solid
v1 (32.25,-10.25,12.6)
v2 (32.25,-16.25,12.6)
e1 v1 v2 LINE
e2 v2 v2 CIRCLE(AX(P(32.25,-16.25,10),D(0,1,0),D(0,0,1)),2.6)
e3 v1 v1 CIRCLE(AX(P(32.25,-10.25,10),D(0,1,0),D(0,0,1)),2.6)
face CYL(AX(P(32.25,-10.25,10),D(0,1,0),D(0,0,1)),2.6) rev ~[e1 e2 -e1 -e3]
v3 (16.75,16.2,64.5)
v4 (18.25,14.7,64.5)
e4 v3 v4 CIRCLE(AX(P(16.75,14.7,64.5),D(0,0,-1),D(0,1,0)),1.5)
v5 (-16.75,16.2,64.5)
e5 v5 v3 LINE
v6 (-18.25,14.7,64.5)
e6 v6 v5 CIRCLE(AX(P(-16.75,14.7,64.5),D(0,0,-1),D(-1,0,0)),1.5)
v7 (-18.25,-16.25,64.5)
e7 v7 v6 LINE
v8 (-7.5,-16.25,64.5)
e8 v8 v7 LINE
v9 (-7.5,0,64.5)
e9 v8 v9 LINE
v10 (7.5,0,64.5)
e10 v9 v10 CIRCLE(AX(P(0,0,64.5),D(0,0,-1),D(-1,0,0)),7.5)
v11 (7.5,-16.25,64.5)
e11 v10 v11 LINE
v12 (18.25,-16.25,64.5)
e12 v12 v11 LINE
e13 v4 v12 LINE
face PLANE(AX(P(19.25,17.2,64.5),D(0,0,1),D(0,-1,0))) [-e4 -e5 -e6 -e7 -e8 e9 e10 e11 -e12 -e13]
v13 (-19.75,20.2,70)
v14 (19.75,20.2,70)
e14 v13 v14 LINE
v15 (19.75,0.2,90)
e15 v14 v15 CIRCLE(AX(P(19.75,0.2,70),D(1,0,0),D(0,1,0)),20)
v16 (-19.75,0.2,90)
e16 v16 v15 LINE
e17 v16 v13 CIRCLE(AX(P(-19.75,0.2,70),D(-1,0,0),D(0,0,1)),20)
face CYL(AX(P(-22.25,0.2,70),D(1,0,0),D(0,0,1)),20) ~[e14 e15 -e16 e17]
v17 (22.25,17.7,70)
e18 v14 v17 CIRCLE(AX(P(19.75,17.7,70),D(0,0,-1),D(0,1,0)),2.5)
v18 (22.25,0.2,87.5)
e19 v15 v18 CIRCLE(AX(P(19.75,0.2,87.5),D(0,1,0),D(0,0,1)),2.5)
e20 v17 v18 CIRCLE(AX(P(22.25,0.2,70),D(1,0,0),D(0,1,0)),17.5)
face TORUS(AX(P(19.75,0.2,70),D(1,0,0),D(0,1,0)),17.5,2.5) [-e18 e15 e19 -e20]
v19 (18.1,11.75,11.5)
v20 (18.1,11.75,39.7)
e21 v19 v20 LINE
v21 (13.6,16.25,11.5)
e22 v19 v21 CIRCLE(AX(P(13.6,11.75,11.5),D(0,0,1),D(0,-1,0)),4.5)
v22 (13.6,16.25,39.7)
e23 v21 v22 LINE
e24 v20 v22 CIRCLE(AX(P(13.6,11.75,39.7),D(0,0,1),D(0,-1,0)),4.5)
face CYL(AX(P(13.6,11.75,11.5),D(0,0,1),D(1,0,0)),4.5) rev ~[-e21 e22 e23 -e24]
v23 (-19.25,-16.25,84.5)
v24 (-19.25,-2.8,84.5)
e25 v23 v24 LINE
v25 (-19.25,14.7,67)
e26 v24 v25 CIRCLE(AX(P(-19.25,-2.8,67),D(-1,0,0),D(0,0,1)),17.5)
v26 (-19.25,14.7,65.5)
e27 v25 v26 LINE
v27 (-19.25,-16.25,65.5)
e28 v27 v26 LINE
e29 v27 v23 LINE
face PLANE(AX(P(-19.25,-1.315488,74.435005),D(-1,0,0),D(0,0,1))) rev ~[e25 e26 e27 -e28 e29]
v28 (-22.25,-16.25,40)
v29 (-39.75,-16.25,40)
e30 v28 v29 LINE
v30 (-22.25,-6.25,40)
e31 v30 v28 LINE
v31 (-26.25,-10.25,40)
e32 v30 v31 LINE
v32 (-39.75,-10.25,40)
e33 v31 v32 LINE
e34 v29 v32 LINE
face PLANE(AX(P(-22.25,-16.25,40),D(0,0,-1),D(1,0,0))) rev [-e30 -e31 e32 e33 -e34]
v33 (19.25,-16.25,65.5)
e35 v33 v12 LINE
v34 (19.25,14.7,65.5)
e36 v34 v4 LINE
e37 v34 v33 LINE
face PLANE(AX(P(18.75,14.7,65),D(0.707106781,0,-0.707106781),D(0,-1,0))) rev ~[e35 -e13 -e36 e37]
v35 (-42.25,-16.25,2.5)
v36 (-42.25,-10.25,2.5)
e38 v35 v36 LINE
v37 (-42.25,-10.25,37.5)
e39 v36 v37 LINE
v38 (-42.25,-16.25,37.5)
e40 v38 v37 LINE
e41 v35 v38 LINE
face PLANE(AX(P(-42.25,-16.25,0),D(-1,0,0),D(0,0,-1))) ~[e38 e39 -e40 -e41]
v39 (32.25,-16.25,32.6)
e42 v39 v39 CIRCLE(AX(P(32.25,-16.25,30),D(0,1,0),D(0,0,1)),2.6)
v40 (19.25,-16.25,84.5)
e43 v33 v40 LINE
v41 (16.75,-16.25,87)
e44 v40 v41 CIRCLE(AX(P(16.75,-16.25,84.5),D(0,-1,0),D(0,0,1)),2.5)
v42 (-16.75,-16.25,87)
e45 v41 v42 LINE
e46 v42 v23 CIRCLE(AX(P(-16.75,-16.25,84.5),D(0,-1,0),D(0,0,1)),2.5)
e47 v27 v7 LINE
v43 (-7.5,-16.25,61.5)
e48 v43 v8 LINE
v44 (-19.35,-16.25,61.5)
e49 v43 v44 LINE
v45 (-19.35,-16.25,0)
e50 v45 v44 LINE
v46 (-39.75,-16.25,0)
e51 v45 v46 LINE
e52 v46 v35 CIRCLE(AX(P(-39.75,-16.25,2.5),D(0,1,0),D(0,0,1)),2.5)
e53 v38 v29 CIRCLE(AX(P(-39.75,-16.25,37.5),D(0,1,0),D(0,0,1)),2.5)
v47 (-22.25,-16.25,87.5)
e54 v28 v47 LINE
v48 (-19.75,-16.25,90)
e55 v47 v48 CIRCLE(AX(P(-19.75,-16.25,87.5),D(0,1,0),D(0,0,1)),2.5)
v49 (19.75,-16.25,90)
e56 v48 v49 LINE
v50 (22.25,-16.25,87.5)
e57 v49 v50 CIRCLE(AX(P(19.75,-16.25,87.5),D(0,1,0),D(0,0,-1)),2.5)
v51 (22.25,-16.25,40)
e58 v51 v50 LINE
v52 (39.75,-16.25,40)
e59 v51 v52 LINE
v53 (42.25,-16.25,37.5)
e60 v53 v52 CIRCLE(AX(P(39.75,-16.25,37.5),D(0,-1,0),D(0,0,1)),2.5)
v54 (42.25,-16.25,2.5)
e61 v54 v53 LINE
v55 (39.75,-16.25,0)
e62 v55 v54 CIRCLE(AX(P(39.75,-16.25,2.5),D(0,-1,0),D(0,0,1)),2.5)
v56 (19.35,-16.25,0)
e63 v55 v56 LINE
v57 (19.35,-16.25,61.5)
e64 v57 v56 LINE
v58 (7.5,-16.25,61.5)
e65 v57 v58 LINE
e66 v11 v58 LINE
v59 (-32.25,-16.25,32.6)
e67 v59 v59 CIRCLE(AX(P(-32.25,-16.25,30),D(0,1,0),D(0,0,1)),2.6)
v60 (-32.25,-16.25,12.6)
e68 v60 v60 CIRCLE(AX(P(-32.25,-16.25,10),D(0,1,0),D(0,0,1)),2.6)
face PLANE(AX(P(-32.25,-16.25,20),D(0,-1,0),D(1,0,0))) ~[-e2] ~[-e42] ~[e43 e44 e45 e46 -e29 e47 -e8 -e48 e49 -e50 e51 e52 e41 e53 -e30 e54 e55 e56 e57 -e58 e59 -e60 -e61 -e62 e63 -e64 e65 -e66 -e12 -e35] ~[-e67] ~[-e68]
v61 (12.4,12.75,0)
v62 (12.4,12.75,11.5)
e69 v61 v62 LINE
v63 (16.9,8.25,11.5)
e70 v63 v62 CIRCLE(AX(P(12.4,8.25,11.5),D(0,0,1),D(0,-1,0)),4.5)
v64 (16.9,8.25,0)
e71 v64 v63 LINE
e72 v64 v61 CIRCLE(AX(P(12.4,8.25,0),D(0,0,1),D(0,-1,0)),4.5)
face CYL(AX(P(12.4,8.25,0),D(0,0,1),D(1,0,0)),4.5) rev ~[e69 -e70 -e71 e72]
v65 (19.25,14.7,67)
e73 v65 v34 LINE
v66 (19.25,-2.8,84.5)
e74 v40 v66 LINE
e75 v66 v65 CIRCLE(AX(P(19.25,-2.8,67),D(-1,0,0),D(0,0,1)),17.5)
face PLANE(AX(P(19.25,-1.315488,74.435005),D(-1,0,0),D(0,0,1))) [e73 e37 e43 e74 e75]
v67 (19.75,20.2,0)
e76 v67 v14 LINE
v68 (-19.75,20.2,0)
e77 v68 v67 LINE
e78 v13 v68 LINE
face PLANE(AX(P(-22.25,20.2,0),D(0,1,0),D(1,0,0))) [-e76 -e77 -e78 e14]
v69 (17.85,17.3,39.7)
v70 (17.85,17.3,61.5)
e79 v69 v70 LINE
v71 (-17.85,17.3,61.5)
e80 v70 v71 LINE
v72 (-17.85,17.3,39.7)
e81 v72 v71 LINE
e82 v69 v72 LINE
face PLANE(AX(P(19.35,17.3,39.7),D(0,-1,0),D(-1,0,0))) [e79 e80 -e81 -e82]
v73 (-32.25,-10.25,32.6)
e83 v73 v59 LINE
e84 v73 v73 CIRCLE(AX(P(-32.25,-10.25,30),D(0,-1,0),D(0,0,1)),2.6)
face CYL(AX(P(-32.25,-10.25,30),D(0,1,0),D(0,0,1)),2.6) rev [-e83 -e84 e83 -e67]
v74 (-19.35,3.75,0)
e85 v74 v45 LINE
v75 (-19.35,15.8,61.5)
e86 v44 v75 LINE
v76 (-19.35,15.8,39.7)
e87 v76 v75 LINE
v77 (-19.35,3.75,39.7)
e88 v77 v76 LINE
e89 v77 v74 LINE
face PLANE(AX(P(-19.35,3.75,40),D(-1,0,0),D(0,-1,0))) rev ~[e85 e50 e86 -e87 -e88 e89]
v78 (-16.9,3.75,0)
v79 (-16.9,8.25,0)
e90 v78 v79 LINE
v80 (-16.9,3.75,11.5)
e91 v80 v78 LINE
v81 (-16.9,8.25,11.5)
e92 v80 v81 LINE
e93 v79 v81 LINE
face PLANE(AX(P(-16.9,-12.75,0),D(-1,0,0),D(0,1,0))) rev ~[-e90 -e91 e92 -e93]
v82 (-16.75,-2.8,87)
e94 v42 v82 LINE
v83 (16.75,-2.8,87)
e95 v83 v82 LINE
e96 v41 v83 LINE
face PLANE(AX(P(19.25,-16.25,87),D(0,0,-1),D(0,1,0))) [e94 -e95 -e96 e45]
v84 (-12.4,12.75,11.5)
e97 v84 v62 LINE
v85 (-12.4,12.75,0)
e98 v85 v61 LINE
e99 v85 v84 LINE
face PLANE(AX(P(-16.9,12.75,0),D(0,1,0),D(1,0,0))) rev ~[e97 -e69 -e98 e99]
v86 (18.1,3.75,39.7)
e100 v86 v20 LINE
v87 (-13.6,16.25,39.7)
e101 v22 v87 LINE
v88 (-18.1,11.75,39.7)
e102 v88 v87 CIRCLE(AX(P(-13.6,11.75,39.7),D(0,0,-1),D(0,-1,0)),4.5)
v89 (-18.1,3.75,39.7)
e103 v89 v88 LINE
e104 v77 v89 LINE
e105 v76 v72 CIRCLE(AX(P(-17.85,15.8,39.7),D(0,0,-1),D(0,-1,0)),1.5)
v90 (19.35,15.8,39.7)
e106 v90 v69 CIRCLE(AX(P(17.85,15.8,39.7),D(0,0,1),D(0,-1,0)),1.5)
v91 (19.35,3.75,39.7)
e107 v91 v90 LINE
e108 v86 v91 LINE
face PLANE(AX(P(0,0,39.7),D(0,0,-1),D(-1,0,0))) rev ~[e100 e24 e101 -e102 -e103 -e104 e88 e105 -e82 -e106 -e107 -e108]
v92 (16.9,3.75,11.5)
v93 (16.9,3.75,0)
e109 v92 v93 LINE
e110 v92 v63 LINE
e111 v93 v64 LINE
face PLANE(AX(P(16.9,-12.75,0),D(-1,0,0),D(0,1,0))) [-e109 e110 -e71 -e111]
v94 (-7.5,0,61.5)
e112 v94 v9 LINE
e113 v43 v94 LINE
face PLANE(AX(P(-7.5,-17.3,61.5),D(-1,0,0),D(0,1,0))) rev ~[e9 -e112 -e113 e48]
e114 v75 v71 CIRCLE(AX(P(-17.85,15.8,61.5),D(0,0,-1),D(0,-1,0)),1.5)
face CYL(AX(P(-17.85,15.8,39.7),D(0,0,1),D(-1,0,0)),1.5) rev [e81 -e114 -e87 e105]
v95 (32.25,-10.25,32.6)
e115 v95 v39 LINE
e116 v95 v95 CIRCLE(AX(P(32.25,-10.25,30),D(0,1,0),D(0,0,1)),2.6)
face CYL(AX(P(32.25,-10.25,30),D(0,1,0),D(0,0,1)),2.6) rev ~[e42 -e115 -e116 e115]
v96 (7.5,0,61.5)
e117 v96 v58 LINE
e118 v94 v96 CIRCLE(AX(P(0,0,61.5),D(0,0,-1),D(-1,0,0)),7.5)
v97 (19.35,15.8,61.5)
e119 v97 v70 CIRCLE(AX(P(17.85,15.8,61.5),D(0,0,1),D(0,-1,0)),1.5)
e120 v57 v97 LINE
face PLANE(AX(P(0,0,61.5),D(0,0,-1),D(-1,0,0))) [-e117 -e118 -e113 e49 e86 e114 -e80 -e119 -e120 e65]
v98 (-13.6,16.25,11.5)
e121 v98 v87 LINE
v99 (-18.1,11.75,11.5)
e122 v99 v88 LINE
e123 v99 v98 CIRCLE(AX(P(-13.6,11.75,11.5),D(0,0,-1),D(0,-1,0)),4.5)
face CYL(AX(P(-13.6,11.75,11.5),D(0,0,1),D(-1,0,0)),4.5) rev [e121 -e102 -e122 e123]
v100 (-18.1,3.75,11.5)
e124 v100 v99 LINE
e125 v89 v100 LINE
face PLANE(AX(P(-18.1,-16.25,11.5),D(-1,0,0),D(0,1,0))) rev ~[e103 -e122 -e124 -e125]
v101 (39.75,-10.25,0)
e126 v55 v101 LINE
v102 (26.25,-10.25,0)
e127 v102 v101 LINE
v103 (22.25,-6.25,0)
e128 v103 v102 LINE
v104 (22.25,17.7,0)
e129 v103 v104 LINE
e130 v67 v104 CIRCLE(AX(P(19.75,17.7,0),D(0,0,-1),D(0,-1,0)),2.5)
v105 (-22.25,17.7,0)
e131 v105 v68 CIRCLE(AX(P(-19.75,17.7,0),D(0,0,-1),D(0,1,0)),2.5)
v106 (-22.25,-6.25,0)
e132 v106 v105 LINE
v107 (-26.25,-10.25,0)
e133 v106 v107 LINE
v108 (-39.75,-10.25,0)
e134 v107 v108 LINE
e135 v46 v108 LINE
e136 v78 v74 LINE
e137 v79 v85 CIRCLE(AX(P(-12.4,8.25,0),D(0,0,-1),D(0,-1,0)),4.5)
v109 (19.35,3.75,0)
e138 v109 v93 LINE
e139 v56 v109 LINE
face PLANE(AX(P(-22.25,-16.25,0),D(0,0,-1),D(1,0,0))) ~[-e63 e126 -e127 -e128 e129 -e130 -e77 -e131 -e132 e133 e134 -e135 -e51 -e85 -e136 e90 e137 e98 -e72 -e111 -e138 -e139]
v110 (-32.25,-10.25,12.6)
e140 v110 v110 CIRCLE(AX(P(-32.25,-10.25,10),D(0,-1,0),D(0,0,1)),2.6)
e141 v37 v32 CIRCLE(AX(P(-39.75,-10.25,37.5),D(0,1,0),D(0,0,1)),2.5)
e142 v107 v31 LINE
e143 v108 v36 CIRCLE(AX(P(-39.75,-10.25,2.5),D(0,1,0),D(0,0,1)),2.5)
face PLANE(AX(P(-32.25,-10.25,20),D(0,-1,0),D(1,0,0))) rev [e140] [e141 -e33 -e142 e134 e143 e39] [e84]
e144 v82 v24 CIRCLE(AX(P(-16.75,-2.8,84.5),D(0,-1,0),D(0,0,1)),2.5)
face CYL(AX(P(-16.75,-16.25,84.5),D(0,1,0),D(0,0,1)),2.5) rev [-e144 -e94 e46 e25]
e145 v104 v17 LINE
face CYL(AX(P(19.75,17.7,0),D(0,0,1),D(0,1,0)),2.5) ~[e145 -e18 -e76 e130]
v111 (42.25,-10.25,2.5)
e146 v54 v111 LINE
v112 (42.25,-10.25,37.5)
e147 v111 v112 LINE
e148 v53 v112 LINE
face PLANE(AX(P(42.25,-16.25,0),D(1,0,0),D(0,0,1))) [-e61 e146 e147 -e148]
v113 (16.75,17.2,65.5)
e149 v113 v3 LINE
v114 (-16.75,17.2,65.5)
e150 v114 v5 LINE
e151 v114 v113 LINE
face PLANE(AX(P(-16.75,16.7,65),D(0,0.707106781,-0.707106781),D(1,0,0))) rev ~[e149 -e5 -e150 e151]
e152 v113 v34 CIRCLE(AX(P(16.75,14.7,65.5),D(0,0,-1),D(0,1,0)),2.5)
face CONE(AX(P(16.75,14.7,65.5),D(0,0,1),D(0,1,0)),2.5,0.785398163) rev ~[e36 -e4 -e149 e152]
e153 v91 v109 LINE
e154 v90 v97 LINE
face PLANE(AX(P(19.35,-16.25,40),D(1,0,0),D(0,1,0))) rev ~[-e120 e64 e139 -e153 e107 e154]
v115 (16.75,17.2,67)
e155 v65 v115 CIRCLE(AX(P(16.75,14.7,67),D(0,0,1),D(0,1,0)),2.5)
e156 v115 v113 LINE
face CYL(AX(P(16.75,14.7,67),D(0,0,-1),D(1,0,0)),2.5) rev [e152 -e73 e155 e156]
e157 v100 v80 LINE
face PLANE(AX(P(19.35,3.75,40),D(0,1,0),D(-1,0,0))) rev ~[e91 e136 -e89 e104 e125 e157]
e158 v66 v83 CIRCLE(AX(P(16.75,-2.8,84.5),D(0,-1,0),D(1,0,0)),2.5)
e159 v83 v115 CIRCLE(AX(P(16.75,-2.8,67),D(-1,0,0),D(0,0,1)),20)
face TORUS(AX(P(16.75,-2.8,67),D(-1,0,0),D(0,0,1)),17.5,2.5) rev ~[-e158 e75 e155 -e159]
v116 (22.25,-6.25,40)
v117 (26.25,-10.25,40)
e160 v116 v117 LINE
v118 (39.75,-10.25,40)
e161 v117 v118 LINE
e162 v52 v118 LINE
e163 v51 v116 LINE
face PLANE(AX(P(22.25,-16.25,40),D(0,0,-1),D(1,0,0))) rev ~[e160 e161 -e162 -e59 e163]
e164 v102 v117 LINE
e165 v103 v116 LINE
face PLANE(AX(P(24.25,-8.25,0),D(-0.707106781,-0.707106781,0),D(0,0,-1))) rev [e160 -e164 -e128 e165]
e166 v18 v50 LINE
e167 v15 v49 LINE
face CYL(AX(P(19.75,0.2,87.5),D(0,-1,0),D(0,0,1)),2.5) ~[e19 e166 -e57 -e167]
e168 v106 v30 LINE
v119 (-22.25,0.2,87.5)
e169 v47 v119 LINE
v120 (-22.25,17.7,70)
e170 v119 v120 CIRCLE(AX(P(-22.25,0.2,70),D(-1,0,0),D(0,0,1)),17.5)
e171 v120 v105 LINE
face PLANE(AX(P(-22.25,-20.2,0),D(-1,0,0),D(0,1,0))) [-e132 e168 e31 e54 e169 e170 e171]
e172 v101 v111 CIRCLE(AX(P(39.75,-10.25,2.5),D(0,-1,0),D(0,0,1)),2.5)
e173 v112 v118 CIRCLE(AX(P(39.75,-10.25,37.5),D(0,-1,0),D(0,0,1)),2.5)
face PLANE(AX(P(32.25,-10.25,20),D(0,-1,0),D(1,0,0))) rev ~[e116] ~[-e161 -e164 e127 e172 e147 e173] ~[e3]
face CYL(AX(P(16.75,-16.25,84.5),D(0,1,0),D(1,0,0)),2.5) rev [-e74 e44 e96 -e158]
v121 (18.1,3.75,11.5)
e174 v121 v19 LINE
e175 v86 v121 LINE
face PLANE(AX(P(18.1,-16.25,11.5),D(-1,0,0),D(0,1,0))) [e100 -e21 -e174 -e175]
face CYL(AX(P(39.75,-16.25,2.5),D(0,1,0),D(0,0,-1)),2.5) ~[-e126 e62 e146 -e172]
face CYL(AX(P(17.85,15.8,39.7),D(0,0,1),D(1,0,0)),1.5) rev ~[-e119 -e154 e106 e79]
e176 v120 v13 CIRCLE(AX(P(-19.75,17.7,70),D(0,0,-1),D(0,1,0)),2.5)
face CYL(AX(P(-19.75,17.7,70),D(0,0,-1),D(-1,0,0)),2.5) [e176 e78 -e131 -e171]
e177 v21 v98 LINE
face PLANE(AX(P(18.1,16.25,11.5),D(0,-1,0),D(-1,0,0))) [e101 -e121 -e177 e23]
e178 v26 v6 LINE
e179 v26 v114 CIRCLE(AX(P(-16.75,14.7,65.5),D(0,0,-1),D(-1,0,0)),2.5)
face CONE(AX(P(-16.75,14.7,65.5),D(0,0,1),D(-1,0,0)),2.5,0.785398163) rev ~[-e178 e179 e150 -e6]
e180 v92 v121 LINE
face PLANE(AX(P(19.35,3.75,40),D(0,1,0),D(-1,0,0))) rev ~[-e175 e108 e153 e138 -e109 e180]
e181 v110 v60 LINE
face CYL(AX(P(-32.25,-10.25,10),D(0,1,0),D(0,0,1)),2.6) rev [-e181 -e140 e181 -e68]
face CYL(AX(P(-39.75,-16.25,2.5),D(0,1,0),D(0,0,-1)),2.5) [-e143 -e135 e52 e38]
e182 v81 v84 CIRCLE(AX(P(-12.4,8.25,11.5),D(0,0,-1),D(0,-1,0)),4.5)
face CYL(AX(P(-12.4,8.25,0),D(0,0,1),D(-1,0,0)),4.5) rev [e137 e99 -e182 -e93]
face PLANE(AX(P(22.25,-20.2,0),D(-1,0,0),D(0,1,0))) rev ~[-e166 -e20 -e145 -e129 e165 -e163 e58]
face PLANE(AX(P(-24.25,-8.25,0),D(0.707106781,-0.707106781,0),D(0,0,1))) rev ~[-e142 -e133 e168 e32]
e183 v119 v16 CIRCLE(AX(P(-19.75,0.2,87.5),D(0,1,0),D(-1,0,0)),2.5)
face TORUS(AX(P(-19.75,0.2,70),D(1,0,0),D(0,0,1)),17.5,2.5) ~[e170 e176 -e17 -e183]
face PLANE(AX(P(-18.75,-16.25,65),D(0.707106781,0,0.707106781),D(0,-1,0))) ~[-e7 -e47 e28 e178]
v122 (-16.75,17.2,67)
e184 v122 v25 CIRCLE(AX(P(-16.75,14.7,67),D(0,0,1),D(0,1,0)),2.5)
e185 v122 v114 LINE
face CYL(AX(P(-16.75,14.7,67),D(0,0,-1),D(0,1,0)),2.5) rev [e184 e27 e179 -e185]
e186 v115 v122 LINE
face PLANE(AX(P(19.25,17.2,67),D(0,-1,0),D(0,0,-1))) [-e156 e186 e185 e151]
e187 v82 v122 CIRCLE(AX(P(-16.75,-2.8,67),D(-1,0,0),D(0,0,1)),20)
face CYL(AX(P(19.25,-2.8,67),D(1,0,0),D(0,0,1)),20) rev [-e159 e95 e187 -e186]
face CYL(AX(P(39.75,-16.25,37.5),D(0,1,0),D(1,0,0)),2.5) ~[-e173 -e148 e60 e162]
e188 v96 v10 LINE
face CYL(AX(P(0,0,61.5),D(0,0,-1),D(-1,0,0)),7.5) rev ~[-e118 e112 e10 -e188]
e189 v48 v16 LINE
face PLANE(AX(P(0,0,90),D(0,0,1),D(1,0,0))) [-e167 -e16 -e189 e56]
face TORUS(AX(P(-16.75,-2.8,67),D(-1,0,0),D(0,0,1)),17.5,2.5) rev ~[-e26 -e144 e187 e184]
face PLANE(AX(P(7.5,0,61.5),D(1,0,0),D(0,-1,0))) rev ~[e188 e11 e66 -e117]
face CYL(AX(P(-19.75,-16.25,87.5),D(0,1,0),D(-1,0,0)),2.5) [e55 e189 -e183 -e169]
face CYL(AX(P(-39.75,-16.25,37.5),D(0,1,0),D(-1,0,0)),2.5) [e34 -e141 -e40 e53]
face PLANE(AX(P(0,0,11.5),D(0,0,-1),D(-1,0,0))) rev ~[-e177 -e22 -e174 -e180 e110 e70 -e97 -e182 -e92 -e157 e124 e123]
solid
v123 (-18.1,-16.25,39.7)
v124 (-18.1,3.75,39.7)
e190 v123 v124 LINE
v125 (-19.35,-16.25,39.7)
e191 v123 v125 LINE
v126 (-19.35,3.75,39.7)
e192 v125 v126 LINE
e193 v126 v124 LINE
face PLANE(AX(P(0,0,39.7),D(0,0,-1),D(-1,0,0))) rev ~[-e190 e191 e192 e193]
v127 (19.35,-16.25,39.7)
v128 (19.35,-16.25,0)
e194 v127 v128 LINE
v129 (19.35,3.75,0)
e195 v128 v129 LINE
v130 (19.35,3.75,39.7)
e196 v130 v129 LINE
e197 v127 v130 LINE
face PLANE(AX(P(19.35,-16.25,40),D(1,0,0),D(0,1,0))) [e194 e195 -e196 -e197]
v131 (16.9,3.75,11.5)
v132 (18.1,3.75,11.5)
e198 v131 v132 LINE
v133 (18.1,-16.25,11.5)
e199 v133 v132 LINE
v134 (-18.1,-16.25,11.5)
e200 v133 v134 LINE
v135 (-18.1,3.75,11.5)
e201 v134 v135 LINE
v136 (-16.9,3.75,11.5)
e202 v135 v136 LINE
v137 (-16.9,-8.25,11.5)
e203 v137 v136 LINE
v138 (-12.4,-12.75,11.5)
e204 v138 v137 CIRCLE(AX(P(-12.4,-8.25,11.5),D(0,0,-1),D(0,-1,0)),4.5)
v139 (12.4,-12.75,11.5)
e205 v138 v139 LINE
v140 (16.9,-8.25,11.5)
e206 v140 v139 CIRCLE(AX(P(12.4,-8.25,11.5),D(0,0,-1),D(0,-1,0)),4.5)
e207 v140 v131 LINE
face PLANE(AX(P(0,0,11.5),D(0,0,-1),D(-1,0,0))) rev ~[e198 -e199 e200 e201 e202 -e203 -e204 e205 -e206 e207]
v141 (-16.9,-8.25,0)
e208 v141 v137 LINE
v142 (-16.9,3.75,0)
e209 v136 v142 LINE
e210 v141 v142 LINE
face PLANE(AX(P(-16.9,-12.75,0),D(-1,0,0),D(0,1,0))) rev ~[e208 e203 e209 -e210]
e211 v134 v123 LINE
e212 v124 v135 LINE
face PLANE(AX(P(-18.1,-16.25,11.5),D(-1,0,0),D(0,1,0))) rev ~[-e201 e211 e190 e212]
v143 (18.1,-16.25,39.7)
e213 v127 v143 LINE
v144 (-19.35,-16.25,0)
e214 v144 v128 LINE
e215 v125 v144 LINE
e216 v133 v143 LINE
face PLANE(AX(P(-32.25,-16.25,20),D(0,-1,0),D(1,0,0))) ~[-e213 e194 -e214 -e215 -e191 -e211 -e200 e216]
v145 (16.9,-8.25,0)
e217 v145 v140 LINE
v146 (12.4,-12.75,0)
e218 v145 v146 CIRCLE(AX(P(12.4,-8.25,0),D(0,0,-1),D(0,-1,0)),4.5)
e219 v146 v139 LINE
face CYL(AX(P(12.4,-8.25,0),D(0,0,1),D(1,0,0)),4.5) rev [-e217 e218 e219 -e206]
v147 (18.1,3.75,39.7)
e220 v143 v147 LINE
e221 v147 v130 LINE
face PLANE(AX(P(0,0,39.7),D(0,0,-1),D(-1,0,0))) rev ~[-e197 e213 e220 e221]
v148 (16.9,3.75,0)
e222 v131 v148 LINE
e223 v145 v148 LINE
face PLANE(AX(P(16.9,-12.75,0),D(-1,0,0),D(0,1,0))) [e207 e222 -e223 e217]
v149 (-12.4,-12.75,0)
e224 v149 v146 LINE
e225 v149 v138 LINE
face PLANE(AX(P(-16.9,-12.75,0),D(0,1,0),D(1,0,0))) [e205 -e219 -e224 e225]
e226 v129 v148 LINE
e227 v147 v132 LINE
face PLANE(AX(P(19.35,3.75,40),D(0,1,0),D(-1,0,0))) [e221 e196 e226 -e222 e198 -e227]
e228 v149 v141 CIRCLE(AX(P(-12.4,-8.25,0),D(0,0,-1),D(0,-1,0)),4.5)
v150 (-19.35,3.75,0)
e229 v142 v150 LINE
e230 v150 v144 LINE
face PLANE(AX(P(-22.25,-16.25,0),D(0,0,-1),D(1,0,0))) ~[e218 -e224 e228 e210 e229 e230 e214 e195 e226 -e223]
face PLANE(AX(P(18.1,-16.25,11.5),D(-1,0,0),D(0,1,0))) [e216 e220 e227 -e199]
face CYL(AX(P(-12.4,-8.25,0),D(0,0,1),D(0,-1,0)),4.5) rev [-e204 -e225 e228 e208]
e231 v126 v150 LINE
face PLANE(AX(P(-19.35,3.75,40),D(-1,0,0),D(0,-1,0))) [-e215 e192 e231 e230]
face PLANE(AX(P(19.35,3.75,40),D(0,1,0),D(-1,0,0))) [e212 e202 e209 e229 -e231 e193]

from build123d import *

# Parameters (mm, degrees)
SKETCH_2_W              = 44.5
SKETCH_2_H              = 40.4
EXTRUDE_1_DEPTH         = 90
SKETCH_1_W              = 33.8
SKETCH_1_H              = 25.5
CUT_EXTRUDE_1_DEPTH     = 11.5
SKETCH_3_W              = 36.2
SKETCH_3_H              = 32.5
CUT_EXTRUDE_2_DEPTH     = 28.2
SKETCH_4_W              = 38.7
SKETCH_4_H              = 34.6
CUT_EXTRUDE_3_DEPTH     = 21.8
CUT_EXTRUDE_4_DEPTH     = 3
SKETCH_7_W              = 44.5
SKETCH_7_H              = 90
CUT_EXTRUDE_6_DEPTH     = 3.95
CUT_EXTRUDE_START       = -3
CUT_EXTRUDE_5_DEPTH     = 38.5
SKETCH_8_W              = 20
SKETCH_8_H              = 40
EXTRUDE_2_DEPTH         = 6
SKETCH_9_R              = 2.6
CUT_EXTRUDE_7_DEPTH     = 104.982041719
FILLET_1_R              = 2.5
FILLET_2_R              = 4.5
FILLET_3_R              = 1.5
FILLET_4_R              = 20
FILLET_5_R              = 2.5
CHAMFER_1_SIZE          = 1
CHAMFER_2_SIZE          = 4
SHEET_EXTRUDE_1_1_BACK  = 40
SHEET_EXTRUDE_1_1_DEPTH = 40
SHEET_EXTRUDE_1_2_BACK  = 40
SHEET_EXTRUDE_1_2_DEPTH = 40


with BuildPart() as part:
    # Эскиз2 → Бобышка-Вытянуть1 (new body)
    with BuildSketch(Plane.XY):
        Rectangle(SKETCH_2_W, SKETCH_2_H)
    extrude(amount=EXTRUDE_1_DEPTH)

    # Эскиз1 → Вырез-Вытянуть1 (cut)
    with BuildSketch(Plane.XY):
        Rectangle(SKETCH_1_W, SKETCH_1_H)
    extrude(amount=CUT_EXTRUDE_1_DEPTH, mode=Mode.SUBTRACT)

    # Эскиз3 → Вырез-Вытянуть2 (cut)
    with BuildSketch(Plane(origin=(0, 0, 11.5), x_dir=(-1, 0, 0), z_dir=(0, 0, -1))):
        Rectangle(SKETCH_3_W, SKETCH_3_H)
    extrude(amount=-CUT_EXTRUDE_2_DEPTH, mode=Mode.SUBTRACT)

    # Эскиз4 → Вырез-Вытянуть3 (cut)
    with BuildSketch(Plane(origin=(0, 0, 39.7), x_dir=(-1, 0, 0), z_dir=(0, 0, -1))):
        Rectangle(SKETCH_4_W, SKETCH_4_H)
    extrude(amount=-CUT_EXTRUDE_3_DEPTH, mode=Mode.SUBTRACT)

    # Эскиз5 → Вырез-Вытянуть4 (cut)
    with BuildSketch(Plane(origin=(0, 0, 61.5), x_dir=(-1, 0, 0), z_dir=(0, 0, -1))):
        with BuildLine():
            Line((-7.5, 0), (-7.5, -17.3))
            Line((-7.5, -17.3), (7.5, -17.3))
            Line((7.5, -17.3), (7.5, 0))
            ThreePointArc((7.5, 0), (0, 7.5), (-7.5, 0))
        make_face()
    extrude(amount=-CUT_EXTRUDE_4_DEPTH, mode=Mode.SUBTRACT)

    # Эскиз7 → Вырез-Вытянуть6 (cut)
    with BuildSketch(Plane.XZ.offset(20.2)):
        with Locations((0, 45)):
            Rectangle(SKETCH_7_W, SKETCH_7_H)
    extrude(amount=-CUT_EXTRUDE_6_DEPTH, mode=Mode.SUBTRACT)

    # Эскиз6 → Вырез-Вытянуть5 (cut)
    with BuildSketch(Plane(origin=(22.25, 0, 0), x_dir=(0, 0, -1), z_dir=(1, 0, 0)).offset(CUT_EXTRUDE_START)):
        with BuildLine():
            Line((-67, 17.2), (-64.5, 17.2))
            Line((-64.5, 17.2), (-64.5, -16.25))
            Line((-64.5, -16.25), (-87, -16.25))
            Line((-87, -16.25), (-87, -2.8))
            ThreePointArc((-87, -2.8), (-81.142135624, 11.342135624), (-67, 17.2))
        make_face()
    extrude(amount=-CUT_EXTRUDE_5_DEPTH, mode=Mode.SUBTRACT)

    # Эскиз8 → Бобышка-Вытянуть2 (add)
    with BuildSketch(Plane.XZ.offset(16.25)):
        with Locations((32.25, 20)):
            Rectangle(SKETCH_8_W, SKETCH_8_H)
    extrude_2 = extrude(amount=-EXTRUDE_2_DEPTH)

    # Эскиз9 → Вырез-Вытянуть7 (cut, through all)
    with BuildSketch(Plane(origin=(0, -10.25, 0), x_dir=(1, 0, 0), z_dir=(0, 1, 0))):
        with Locations(Location((32.25, -10, 0), (0, 0, 270))):
            Circle(SKETCH_9_R)
        with Locations(Location((32.25, -30, 0), (0, 0, 270))):
            Circle(SKETCH_9_R)
    cut_extrude_7 = extrude(amount=-CUT_EXTRUDE_7_DEPTH, mode=Mode.SUBTRACT)

    # Зеркальное отражение1: Бобышка-Вытянуть2, Вырез-Вытянуть7 across plane
    add(extrude_2.mirror(Plane(origin=(0, 0, 0), x_dir=(0, 0, 1), z_dir=(1, 0, 0))))
    add(cut_extrude_7.mirror(Plane(origin=(0, 0, 0), x_dir=(0, 0, 1), z_dir=(1, 0, 0))), mode=Mode.SUBTRACT)

    # Скругление1
    fillet_1_edges = [part.edges().sort_by_distance(p)[0] for p in [
        (42.25, -13.25, 40),
        (42.25, -13.25, 0),
        (-42.25, -13.25, 0),
        (-42.25, -13.25, 40),
    ]]
    fillet(fillet_1_edges, radius=FILLET_1_R)

    # Скругление2
    fillet_2_edges = [part.edges().sort_by_distance(p)[0] for p in [
        (-16.9, 12.75, 5.75),
        (-16.9, -12.75, 5.75),
        (16.9, -12.75, 5.75),
        (16.9, 12.75, 5.75),
        (18.1, 16.25, 25.6),
        (-18.1, 16.25, 25.6),
    ]]
    fillet(fillet_2_edges, radius=FILLET_2_R)

    # Скругление3
    fillet_3_edges = [part.edges().sort_by_distance(p)[0] for p in [
        (19.35, 17.3, 50.6),
        (-19.35, 17.3, 50.6),
    ]]
    fillet(fillet_3_edges, radius=FILLET_3_R)

    # Скругление4
    fillet_4_edges = [part.edges().sort_by_distance(p)[0] for p in [
        (0, 20.2, 90),
    ]]
    fillet(fillet_4_edges, radius=FILLET_4_R)

    # Скругление5
    fillet_5_edges = [part.edges().sort_by_distance(p)[0] for p in [
        (19.25, 17.2, 65.75),
        (19.25, 11.342135624, 81.142135624),
        (19.25, -9.525, 87),
        (-19.25, -9.525, 87),
        (-19.25, 11.342135624, 81.142135624),
        (-19.25, 17.2, 65.75),
        (-22.25, -8.025, 90),
        (-22.25, 20.2, 35),
        (-22.25, 14.342135624, 84.142135624),
        (22.25, 20.2, 35),
        (22.25, 14.342135624, 84.142135624),
        (22.25, -8.025, 90),
    ]]
    fillet(fillet_5_edges, radius=FILLET_5_R)

    # Фаска1
    chamfer_1_edges = [part.edges().sort_by_distance(p)[0] for p in [
        (19.25, -0.775, 64.5),
        (0, 17.2, 64.5),
        (-19.25, -0.775, 64.5),
        (18.517766953, 16.467766953, 64.5),
        (-18.517766953, 16.467766953, 64.5),
    ]]
    chamfer(chamfer_1_edges, length=CHAMFER_1_SIZE)

    # Фаска2
    chamfer_2_edges = [part.edges().sort_by_distance(p)[0] for p in [
        (22.25, -10.25, 20),
        (-22.25, -10.25, 20),
    ]]
    chamfer(chamfer_2_edges, length=CHAMFER_2_SIZE)


with BuildPart() as body_2:
    # Split Bodies 2: the piece behind the surface
    add(part.part)
    # Sheet Бобышка-Вытянуть1: a surface, the sketch's curves swept straight by 40 mm
    with BuildLine(Plane(origin=(0, 0, 0), x_dir=(-1, 0, 0), z_dir=(0, 0, -1)).offset(-SHEET_EXTRUDE_1_1_BACK), mode=Mode.PRIVATE) as sheet_extrude_1_1_path:
        Line((-19.35, 3.75), (19.35, 3.75))
        Line((19.35, 3.75), (19.35, -16.25))
        Line((19.35, -16.25), (-19.35, -16.25))
        Line((-19.35, -16.25), (-19.35, 3.75))
    sheet_extrude_1_1 = Shell.extrude(sheet_extrude_1_1_path.wire(), (0 * SHEET_EXTRUDE_1_1_DEPTH, 0 * SHEET_EXTRUDE_1_1_DEPTH, -1 * SHEET_EXTRUDE_1_1_DEPTH))
    split(bisect_by=sheet_extrude_1_1, keep=Keep.BOTTOM)


with BuildPart() as part_1:
    add(part.part)

    # Split Bodies 2: split by a surface, the side it looks to stays
    # Sheet Бобышка-Вытянуть1: a surface, the sketch's curves swept straight by 40 mm
    with BuildLine(Plane(origin=(0, 0, 0), x_dir=(-1, 0, 0), z_dir=(0, 0, -1)).offset(-SHEET_EXTRUDE_1_2_BACK), mode=Mode.PRIVATE) as sheet_extrude_1_2_path:
        Line((-19.35, 3.75), (19.35, 3.75))
        Line((19.35, 3.75), (19.35, -16.25))
        Line((19.35, -16.25), (-19.35, -16.25))
        Line((-19.35, -16.25), (-19.35, 3.75))
    sheet_extrude_1_2 = Shell.extrude(sheet_extrude_1_2_path.wire(), (0 * SHEET_EXTRUDE_1_2_DEPTH, 0 * SHEET_EXTRUDE_1_2_DEPTH, -1 * SHEET_EXTRUDE_1_2_DEPTH))
    split(bisect_by=sheet_extrude_1_2, keep=Keep.TOP)


solid = Compound([body_2.part, part_1.part])
